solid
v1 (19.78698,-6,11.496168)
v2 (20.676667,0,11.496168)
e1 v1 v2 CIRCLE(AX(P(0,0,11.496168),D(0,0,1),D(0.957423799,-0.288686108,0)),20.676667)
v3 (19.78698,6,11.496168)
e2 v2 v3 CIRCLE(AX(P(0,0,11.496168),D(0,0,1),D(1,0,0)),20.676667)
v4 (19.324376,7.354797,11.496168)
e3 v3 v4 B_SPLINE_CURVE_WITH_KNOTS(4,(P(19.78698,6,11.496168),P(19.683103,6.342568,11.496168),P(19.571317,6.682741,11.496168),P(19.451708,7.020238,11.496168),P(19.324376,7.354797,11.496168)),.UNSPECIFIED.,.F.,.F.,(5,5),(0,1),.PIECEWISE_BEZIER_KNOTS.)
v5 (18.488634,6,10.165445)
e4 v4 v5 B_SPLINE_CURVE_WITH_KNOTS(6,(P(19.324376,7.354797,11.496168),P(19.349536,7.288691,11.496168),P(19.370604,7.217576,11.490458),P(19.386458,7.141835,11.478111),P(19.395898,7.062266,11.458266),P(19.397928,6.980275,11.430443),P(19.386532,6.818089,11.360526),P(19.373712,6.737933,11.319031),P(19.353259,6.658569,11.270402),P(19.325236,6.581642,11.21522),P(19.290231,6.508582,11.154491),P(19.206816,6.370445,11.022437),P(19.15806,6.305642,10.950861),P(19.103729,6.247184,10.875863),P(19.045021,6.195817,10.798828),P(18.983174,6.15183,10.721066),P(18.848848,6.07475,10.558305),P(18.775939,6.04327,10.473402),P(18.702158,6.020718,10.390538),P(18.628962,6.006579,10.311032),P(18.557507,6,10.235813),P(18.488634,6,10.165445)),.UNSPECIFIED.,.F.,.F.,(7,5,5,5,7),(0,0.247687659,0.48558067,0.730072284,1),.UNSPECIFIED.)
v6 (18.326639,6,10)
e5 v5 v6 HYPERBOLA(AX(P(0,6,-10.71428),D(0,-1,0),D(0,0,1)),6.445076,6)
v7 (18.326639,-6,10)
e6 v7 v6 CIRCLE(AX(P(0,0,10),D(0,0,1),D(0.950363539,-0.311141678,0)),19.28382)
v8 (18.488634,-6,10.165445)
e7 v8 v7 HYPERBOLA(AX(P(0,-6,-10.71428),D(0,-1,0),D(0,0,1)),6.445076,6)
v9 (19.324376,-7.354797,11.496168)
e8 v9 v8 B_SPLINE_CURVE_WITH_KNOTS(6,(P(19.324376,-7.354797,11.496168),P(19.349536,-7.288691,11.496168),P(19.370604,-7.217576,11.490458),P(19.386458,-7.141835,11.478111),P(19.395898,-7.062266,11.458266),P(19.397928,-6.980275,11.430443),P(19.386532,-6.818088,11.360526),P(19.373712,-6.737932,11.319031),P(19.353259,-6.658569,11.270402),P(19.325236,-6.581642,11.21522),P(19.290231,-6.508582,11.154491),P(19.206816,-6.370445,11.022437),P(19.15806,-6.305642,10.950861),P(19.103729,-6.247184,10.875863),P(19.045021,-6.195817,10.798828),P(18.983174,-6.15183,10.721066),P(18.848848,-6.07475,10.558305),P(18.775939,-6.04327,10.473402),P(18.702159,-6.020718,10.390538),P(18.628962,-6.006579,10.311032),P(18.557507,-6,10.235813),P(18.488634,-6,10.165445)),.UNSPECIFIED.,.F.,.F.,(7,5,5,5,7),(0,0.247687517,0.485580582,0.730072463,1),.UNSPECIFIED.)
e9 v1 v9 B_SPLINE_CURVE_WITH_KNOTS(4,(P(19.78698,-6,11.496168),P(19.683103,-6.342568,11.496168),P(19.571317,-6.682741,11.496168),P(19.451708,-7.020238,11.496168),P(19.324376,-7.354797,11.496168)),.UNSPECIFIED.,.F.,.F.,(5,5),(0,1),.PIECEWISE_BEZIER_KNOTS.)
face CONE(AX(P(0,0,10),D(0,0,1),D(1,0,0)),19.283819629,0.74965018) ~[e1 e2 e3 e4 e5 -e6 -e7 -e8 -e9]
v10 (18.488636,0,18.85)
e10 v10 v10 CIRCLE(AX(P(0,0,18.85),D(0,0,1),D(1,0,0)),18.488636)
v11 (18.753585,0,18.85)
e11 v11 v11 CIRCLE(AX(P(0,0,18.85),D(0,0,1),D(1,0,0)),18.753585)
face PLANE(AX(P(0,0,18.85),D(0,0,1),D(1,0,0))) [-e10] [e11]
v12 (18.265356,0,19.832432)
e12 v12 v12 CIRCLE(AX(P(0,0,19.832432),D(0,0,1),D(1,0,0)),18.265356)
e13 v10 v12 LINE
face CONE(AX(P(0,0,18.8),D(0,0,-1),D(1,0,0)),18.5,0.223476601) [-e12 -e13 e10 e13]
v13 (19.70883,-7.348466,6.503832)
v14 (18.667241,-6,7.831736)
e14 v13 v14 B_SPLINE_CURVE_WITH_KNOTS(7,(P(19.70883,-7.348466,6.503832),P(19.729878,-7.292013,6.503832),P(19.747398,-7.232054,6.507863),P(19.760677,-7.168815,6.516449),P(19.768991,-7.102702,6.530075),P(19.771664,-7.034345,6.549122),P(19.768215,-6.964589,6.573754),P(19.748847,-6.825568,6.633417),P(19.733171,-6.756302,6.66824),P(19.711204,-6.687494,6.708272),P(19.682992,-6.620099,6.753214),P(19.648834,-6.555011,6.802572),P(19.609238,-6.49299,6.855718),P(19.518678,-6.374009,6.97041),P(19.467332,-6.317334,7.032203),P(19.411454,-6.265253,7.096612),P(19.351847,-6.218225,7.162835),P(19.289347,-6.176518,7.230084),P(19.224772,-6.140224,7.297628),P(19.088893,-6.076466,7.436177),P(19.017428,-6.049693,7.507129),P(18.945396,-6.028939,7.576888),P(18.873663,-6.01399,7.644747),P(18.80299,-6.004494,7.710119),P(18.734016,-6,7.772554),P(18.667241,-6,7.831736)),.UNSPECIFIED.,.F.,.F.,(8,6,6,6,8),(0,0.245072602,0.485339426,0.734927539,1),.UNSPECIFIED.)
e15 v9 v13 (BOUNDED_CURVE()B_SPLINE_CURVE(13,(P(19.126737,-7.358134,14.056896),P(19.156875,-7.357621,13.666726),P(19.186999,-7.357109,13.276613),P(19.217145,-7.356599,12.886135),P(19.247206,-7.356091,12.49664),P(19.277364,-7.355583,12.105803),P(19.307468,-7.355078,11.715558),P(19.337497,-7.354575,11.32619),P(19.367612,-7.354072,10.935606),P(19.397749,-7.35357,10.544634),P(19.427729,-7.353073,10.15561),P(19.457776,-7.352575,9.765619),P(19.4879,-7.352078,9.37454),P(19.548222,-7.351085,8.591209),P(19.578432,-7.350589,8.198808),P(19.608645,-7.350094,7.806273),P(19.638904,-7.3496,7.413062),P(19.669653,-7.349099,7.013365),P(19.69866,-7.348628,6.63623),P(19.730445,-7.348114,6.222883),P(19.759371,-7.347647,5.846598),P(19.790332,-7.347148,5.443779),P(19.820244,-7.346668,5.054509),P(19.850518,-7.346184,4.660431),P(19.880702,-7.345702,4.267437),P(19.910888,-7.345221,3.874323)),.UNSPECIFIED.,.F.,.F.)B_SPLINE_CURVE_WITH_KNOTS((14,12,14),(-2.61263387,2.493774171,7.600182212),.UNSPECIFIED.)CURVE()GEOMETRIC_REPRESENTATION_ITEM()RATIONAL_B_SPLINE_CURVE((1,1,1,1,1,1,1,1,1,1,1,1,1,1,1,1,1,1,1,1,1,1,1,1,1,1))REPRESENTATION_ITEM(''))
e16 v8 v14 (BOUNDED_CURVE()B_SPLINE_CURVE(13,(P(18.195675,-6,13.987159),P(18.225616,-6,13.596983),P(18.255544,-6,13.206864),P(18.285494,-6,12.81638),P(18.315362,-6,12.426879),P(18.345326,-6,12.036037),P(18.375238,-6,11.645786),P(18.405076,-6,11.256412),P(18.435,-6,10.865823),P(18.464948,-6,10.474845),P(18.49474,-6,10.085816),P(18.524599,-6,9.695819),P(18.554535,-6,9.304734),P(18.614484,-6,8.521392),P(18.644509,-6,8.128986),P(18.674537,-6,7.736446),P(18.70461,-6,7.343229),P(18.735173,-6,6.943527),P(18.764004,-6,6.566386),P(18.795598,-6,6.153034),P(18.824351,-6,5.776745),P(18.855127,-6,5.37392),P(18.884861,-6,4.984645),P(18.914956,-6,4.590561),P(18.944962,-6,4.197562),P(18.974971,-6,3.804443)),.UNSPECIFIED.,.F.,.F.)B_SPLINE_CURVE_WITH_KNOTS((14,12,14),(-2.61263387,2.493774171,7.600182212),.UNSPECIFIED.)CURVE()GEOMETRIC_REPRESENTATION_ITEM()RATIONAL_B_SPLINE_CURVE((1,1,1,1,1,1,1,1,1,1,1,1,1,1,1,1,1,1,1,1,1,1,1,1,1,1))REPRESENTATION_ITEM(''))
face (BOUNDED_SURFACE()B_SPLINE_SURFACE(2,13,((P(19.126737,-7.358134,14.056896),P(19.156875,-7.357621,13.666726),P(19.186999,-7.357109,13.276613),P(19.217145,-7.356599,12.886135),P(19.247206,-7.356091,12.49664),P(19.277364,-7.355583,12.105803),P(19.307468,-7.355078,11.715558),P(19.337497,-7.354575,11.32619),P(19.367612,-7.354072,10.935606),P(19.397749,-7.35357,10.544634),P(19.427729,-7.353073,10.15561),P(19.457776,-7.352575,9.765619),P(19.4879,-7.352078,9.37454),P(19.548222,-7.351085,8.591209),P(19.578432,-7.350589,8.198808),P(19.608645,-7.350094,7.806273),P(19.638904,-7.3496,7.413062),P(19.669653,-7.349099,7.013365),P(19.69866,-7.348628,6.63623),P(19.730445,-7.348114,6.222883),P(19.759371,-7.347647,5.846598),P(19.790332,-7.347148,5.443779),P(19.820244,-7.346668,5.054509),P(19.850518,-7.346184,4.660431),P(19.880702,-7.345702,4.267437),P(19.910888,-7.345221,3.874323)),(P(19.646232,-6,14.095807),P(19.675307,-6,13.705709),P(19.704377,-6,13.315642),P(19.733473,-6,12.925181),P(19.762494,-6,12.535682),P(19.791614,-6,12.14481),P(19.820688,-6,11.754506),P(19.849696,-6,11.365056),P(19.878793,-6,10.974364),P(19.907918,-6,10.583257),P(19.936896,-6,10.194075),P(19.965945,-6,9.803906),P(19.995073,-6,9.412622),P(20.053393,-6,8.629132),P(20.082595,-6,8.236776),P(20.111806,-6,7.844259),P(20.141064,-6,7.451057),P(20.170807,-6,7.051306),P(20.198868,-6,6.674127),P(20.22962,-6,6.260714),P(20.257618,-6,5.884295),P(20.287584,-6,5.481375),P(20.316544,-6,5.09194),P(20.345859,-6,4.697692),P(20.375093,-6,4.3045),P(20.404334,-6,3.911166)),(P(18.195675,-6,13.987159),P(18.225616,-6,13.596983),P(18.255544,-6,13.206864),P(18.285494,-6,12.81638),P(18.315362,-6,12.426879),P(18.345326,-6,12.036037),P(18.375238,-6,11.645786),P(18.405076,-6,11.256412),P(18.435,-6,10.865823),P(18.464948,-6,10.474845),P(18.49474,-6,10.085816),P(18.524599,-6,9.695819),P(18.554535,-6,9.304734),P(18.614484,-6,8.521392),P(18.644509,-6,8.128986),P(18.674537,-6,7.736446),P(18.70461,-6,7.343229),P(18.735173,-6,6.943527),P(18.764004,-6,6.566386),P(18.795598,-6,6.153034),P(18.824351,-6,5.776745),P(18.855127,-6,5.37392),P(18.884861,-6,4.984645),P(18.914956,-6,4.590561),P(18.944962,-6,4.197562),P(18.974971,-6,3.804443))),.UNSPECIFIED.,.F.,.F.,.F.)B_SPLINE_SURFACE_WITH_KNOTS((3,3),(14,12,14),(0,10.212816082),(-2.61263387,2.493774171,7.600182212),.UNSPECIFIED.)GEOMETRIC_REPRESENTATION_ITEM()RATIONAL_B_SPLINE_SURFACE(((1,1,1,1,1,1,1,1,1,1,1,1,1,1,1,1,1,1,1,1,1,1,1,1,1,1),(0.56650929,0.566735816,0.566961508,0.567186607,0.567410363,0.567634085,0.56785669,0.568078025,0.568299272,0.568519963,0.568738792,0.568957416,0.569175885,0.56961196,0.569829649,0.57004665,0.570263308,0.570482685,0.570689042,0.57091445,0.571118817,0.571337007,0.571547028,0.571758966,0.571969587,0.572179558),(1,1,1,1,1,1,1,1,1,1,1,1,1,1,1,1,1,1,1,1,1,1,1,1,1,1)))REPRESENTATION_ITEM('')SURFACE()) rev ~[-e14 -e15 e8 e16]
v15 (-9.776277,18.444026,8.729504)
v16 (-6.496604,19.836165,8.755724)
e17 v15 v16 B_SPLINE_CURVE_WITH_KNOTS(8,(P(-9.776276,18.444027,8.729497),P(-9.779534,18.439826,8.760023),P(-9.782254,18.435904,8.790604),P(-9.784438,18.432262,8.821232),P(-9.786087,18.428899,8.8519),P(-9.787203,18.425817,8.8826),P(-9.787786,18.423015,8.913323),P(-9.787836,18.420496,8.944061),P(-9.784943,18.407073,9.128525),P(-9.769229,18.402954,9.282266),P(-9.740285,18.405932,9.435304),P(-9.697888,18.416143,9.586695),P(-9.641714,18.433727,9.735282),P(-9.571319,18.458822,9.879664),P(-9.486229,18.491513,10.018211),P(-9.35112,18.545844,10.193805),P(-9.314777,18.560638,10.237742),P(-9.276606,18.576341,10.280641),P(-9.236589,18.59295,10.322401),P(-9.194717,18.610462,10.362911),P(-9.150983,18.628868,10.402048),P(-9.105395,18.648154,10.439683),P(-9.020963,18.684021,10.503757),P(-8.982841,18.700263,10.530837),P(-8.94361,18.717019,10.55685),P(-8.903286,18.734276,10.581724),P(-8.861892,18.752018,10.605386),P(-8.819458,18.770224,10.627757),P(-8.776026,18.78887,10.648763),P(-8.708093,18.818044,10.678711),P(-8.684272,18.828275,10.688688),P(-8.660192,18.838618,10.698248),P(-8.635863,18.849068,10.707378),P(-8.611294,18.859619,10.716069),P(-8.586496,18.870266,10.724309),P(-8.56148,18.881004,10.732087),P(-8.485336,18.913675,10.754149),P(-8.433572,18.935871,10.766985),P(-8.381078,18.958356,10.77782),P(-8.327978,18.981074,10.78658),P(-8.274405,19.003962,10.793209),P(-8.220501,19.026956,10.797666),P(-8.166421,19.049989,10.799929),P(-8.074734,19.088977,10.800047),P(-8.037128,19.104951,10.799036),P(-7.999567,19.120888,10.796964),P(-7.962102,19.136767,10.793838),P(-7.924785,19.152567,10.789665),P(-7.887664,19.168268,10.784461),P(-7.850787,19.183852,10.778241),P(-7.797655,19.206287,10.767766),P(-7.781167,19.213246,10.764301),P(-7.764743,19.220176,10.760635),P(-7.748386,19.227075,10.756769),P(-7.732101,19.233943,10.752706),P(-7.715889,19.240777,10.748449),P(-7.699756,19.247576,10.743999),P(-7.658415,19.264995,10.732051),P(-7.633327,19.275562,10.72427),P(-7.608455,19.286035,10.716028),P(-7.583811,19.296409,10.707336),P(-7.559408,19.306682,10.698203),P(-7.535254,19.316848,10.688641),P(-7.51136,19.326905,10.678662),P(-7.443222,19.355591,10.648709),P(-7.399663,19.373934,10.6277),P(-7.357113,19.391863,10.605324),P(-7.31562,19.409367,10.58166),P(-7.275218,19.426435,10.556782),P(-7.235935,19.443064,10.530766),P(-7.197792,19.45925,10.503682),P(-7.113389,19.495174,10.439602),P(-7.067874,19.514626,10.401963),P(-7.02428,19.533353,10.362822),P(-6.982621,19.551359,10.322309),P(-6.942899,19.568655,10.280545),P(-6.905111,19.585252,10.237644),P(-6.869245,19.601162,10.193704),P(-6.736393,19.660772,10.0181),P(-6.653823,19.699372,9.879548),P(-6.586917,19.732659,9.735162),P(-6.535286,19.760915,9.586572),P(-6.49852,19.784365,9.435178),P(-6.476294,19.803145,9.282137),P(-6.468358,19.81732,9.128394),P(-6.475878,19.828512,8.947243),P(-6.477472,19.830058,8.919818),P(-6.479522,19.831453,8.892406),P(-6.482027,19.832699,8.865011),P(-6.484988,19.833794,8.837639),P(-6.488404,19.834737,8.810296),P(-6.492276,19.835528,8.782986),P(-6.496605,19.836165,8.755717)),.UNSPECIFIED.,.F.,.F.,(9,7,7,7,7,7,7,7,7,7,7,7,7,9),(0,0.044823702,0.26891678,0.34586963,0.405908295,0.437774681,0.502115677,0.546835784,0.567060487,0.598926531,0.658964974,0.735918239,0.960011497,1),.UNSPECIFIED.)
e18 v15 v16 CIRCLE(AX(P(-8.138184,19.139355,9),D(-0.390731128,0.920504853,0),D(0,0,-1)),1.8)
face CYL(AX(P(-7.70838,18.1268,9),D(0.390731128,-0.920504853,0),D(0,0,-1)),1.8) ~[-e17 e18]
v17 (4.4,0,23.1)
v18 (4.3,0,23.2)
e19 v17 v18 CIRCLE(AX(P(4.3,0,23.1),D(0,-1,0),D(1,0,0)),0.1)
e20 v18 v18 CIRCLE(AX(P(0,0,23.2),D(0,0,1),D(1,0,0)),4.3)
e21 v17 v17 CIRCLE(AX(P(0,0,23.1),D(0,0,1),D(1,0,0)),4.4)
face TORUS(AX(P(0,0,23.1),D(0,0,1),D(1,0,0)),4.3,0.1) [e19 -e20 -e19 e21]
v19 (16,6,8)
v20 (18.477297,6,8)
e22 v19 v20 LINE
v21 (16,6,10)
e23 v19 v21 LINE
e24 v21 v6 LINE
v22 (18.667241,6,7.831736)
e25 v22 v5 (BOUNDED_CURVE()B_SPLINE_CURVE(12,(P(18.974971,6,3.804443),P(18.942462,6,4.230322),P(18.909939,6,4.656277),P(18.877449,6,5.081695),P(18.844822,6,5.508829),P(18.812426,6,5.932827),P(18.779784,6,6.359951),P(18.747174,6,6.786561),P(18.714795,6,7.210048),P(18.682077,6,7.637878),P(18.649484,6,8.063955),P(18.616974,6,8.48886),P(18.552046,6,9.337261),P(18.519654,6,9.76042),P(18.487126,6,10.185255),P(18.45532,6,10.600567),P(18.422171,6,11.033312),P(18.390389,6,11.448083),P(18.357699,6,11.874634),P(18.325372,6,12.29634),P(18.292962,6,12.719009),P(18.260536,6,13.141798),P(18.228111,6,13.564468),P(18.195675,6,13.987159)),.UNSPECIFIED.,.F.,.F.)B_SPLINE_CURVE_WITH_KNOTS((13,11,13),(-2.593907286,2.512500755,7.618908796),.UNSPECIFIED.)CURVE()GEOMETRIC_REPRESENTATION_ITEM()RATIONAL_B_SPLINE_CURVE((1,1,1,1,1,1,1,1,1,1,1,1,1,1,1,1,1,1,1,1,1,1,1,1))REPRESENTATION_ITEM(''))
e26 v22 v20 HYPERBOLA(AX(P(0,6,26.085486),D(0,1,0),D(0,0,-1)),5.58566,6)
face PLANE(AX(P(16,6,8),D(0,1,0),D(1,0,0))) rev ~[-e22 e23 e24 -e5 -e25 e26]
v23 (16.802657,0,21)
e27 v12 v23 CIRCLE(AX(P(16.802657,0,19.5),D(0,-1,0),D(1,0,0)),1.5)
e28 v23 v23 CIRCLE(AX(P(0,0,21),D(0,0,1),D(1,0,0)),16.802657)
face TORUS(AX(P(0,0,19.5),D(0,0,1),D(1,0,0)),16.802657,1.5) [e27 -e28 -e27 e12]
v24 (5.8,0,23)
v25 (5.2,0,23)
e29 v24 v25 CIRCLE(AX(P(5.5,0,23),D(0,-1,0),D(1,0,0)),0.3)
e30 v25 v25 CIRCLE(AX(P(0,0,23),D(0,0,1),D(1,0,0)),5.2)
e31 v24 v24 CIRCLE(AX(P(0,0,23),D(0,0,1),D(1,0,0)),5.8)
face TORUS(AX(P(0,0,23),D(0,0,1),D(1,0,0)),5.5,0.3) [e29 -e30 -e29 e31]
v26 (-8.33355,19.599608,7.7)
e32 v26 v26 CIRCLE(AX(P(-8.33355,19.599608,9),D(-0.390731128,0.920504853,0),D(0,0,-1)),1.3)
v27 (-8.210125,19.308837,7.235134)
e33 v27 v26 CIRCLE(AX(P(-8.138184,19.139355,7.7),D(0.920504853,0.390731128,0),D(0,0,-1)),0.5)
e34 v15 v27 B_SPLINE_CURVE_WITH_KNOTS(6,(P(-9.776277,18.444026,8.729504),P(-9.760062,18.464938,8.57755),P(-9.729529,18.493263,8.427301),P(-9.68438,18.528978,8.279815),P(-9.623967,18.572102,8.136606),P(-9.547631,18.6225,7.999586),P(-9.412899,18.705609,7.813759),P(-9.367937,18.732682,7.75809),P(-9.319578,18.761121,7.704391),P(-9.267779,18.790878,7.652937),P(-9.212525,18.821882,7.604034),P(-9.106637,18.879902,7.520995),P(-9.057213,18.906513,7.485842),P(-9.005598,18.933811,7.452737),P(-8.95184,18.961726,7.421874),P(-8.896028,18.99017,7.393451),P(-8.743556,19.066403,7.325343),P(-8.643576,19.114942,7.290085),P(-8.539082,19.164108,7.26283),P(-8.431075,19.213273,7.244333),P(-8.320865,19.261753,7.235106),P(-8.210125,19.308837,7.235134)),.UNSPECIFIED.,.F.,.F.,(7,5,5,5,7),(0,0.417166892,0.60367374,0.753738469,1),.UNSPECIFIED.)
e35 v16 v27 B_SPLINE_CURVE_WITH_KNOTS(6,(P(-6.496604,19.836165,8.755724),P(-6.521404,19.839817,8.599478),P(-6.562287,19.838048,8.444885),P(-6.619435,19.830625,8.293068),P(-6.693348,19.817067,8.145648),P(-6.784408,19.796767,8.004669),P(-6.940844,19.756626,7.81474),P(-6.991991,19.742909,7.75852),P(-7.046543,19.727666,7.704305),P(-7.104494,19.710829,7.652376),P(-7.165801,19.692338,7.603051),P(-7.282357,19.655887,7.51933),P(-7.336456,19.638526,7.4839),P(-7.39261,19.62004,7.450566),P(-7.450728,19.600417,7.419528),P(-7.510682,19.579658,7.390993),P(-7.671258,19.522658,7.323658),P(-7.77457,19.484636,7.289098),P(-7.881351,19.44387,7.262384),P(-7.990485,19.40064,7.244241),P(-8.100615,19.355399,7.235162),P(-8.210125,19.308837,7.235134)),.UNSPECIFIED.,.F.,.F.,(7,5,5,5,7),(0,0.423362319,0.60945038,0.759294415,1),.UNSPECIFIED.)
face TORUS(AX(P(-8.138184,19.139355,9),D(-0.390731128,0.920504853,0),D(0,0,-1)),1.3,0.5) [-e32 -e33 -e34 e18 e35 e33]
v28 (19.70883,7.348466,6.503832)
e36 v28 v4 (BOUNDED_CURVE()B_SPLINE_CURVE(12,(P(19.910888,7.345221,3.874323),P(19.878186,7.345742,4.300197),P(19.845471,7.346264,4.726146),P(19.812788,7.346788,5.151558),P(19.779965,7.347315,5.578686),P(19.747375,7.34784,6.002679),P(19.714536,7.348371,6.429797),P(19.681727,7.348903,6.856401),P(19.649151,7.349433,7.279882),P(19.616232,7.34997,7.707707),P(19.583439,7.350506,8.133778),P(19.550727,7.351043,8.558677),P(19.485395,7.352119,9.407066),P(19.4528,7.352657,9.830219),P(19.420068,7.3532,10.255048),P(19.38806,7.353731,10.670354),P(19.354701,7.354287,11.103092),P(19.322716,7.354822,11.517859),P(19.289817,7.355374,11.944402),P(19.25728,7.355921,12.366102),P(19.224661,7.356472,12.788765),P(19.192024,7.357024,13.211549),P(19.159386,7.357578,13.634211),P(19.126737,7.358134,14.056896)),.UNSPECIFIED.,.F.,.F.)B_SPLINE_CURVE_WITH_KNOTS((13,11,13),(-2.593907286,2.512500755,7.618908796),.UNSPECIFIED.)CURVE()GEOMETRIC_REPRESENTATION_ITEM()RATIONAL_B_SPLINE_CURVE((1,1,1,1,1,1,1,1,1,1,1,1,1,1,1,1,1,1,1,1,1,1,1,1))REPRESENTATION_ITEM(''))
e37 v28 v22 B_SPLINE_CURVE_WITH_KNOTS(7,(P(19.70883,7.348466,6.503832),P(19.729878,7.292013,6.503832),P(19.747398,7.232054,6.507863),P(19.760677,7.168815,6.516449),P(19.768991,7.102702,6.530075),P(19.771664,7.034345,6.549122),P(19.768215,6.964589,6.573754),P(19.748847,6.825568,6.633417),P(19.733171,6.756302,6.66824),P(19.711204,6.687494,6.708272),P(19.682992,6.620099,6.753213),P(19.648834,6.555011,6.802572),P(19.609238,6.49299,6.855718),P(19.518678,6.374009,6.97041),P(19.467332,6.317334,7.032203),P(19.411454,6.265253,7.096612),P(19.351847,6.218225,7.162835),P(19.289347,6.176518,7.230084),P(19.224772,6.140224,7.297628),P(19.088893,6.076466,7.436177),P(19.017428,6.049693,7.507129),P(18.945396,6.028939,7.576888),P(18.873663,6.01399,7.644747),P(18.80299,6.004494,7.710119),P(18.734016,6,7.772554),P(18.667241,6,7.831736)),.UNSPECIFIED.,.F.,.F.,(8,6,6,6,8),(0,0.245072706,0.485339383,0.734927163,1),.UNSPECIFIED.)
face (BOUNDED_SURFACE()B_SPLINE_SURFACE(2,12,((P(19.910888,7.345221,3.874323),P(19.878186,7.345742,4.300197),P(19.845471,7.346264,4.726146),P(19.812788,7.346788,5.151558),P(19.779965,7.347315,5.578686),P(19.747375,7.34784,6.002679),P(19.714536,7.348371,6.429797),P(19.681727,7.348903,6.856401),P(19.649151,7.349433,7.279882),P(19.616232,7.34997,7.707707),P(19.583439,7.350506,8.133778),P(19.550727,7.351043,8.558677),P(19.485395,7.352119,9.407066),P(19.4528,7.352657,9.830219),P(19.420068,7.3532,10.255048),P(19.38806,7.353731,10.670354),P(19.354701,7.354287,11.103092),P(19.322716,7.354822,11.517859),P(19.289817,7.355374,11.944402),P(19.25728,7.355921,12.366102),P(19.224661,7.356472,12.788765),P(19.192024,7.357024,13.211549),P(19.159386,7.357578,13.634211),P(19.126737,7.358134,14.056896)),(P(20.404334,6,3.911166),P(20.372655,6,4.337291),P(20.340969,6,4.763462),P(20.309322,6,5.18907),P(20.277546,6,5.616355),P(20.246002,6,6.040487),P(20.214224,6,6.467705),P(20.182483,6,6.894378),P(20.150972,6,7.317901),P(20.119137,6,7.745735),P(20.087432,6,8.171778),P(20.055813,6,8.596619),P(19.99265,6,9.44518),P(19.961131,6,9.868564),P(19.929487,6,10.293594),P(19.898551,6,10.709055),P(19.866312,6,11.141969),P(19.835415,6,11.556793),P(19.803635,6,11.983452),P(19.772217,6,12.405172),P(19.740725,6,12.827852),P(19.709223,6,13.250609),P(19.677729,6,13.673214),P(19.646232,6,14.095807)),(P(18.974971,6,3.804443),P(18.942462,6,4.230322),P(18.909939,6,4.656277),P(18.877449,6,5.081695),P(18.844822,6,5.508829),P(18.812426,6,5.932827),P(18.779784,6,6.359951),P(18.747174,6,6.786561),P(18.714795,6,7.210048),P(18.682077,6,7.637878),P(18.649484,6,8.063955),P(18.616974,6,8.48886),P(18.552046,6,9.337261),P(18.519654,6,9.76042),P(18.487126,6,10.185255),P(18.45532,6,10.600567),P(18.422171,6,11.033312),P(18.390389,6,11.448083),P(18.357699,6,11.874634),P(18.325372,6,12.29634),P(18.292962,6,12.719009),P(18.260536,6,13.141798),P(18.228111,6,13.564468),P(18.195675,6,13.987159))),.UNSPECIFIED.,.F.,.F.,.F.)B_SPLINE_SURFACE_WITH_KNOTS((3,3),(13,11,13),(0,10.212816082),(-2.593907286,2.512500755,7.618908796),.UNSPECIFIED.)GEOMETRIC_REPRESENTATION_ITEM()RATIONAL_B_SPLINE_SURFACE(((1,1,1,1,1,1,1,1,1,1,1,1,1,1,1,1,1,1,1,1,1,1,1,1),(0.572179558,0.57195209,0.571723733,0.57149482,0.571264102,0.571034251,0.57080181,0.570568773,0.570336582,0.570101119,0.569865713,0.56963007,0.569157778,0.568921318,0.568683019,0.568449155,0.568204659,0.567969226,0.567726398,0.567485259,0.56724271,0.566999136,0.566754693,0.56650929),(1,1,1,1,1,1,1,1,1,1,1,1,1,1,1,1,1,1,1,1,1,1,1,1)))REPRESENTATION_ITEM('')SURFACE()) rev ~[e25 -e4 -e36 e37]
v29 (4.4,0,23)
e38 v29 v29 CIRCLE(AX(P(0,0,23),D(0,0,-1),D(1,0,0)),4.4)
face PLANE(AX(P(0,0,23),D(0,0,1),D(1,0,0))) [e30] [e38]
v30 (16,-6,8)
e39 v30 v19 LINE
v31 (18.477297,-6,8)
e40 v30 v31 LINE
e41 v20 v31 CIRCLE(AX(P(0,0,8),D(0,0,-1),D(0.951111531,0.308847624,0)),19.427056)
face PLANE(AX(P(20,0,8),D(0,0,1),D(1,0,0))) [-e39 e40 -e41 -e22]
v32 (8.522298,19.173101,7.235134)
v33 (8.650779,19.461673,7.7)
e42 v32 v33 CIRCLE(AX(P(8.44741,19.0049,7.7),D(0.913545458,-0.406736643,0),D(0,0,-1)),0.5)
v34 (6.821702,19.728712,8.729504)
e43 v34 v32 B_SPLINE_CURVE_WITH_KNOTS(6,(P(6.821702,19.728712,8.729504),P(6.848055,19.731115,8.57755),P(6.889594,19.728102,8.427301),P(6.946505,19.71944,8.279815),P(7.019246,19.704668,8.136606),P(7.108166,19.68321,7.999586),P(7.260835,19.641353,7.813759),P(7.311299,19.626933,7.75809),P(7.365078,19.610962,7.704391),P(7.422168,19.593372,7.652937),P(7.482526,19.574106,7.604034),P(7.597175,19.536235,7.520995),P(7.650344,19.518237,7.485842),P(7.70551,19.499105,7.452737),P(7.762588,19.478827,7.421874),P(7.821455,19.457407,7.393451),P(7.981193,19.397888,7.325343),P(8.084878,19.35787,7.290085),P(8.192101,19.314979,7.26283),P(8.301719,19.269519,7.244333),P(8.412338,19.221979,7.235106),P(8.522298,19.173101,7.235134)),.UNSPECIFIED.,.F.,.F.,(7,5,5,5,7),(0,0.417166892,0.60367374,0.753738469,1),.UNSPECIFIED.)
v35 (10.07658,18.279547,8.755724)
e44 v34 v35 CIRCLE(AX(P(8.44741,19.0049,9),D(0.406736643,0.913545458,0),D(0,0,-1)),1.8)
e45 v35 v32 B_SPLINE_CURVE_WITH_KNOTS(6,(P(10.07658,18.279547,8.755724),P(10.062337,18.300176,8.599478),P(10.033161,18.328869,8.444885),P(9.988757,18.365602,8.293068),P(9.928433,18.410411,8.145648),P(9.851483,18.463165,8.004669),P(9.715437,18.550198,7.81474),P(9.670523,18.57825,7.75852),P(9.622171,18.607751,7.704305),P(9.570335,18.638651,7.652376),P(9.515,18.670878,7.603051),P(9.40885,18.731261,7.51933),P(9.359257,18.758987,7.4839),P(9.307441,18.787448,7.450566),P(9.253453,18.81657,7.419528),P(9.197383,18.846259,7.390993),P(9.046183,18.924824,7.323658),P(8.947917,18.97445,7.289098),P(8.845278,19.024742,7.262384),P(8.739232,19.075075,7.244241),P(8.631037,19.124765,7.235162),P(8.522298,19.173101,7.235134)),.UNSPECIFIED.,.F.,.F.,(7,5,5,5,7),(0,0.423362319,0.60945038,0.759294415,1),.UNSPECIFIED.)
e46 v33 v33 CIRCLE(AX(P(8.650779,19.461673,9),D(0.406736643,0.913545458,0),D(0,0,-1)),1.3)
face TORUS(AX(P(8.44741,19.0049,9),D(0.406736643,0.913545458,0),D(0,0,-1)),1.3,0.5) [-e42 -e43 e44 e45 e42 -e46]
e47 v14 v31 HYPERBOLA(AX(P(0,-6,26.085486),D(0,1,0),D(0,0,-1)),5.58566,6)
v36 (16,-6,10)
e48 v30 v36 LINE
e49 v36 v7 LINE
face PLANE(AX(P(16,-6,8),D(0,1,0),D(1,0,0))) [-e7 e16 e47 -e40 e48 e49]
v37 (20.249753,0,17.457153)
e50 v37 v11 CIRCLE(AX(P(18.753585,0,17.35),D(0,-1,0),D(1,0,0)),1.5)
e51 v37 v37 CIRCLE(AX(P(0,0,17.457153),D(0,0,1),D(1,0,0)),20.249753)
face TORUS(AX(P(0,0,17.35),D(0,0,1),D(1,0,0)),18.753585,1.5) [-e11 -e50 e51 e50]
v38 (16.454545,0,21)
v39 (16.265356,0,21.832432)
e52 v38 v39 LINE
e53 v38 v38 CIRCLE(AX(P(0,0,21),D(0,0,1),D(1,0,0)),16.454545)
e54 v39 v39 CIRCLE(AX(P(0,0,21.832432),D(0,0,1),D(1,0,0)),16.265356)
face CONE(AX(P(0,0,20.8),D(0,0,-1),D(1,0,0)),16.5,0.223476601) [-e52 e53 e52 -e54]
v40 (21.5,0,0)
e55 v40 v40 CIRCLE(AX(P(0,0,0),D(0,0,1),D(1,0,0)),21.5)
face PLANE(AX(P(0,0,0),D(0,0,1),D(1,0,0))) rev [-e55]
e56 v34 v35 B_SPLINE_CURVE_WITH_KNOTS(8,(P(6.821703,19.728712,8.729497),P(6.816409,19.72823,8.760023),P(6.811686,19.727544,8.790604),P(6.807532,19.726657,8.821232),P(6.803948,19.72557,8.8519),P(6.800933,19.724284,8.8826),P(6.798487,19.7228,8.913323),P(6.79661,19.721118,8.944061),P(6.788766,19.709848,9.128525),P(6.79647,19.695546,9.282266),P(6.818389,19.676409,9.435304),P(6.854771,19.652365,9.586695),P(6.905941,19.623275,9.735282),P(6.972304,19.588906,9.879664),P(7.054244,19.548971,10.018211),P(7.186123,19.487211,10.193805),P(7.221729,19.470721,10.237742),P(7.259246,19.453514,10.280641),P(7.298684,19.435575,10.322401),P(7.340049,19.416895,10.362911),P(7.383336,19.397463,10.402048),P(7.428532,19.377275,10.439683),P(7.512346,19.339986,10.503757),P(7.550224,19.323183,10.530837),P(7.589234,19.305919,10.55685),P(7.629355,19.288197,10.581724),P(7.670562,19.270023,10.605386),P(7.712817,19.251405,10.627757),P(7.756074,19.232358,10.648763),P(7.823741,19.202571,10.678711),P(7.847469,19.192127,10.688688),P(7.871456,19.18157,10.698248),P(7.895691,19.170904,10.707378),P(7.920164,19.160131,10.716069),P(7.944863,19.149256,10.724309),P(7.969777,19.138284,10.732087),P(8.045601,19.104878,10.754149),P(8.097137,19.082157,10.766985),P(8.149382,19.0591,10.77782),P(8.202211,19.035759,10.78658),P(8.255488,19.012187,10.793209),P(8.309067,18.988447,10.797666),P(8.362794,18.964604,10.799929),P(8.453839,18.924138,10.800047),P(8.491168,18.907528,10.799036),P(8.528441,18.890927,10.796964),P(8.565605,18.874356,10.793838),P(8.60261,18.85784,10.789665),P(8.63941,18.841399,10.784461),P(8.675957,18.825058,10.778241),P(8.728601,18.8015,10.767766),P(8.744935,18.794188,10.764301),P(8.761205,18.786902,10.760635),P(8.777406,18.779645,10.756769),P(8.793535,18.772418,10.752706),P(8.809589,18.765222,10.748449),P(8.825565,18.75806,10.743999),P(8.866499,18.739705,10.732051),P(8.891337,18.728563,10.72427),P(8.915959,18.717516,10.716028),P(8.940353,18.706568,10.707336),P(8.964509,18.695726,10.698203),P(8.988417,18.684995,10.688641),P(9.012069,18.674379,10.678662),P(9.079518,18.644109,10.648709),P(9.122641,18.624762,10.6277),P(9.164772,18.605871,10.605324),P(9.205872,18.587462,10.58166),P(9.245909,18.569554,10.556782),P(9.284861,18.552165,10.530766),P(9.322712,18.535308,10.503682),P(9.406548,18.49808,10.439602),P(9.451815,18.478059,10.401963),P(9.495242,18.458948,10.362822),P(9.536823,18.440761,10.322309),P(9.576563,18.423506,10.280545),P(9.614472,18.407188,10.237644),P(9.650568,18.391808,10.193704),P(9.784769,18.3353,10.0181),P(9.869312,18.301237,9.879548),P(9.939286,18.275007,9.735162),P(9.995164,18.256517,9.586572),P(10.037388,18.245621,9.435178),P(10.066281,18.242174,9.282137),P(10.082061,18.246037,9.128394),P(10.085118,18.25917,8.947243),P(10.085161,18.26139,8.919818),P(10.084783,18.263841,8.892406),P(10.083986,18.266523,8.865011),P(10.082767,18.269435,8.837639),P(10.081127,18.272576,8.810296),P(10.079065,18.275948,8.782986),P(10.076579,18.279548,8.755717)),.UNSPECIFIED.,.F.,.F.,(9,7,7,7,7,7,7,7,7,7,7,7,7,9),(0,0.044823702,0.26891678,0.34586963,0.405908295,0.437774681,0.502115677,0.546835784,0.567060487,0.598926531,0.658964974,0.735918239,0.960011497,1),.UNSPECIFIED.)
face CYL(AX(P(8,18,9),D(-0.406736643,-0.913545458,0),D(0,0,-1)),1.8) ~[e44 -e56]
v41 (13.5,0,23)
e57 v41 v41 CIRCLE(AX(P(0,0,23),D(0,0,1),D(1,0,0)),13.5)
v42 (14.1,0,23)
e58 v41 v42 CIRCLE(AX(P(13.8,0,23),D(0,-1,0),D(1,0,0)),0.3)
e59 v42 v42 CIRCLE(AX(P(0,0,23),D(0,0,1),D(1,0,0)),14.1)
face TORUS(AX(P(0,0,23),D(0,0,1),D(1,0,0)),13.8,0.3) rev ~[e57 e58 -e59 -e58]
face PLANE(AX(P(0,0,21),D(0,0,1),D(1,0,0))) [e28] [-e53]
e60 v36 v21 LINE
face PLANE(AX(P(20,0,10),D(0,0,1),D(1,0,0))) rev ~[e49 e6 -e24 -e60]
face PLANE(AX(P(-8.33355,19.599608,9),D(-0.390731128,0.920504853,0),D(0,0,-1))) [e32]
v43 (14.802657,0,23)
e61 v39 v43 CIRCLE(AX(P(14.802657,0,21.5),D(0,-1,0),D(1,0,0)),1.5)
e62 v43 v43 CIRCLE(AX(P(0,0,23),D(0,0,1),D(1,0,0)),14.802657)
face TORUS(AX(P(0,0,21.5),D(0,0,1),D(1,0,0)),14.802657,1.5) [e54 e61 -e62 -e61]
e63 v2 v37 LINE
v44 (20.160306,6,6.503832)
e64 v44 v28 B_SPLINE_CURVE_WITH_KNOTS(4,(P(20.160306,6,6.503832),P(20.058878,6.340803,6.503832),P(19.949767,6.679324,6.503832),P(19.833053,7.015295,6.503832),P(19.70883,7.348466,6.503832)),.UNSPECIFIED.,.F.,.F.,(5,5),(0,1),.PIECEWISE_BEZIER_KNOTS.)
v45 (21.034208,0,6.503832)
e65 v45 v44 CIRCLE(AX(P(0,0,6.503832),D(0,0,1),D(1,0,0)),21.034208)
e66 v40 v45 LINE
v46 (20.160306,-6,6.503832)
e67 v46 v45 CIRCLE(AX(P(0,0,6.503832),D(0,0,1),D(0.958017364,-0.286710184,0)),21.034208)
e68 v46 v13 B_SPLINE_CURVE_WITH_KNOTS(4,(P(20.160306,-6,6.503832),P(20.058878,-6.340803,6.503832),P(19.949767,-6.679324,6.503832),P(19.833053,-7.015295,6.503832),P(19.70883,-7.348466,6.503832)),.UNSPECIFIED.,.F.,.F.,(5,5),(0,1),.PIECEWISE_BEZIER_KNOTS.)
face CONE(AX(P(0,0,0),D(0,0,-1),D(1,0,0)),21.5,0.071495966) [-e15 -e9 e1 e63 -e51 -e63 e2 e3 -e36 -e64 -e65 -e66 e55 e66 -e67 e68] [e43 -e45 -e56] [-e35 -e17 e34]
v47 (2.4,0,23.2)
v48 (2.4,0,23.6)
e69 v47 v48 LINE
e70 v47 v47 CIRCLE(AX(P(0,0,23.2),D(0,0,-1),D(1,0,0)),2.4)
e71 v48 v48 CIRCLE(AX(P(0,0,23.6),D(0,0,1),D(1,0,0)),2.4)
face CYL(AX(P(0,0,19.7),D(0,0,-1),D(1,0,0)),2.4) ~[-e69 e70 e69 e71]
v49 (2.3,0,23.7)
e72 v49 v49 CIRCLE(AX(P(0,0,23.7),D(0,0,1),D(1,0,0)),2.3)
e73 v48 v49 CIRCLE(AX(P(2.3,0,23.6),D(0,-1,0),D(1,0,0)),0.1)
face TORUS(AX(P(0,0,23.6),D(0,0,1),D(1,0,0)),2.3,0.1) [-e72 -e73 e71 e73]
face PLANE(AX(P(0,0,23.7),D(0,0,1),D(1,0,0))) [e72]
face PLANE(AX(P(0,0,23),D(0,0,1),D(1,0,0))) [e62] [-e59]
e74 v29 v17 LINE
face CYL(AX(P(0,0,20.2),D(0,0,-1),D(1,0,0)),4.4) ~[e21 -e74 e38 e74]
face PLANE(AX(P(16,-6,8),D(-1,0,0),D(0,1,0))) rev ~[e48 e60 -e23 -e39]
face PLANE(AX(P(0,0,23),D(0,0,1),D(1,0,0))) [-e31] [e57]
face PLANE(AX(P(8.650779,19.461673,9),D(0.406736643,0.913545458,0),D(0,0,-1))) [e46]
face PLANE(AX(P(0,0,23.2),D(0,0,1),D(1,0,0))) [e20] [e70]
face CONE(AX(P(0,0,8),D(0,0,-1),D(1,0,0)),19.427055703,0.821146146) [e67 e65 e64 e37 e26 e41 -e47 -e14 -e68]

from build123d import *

# Parameters (mm, degrees)
CYLINDER004_R               = 8
CYLINDER004_DEPTH           = 10
CYLINDER003_R               = 2.4
CYLINDER003_DEPTH           = 4
FILLET008_R                 = 0.1
CYLINDER_R                  = 4.4
CYLINDER_DEPTH              = 3
FILLET003_R                 = 0.1
TORUS_R                     = 0.3
FILLET002_R                 = 1.5
TORUS001_R                  = 0.3
CYLINDER001_R               = 1.8
CYLINDER001_DEPTH           = 1.6
CYLINDER001_PITCH_ANGLE     = 90
CYLINDER001_PLACEMENT_ANGLE = 66
FILLET006_R                 = 0.5
CYLINDER002_R               = 1.8
CYLINDER002_DEPTH           = 1.6
CYLINDER002_PITCH_ANGLE     = 90
CYLINDER002_PLACEMENT_ANGLE = 66
FILLET007_R                 = 0.5
FILLET007_PLACEMENT_ANGLE   = 47
BOX_W                       = 8
BOX_H                       = 12
BOX_DEPTH                   = 2
FILLET_R                    = 1.5
CHAMFER_SIZE                = 1.5
FILLET004_R                 = 1
FILLET005_R                 = 1
FILLET001_R                 = 1.5


with BuildPart() as cilindro004:
    # Cylinder004 → Cylinder004 (new body)
    with BuildSketch(Plane.XY.offset(12.5)):
        Circle(CYLINDER004_R)
    extrude(amount=CYLINDER004_DEPTH)


with BuildPart() as fillet008:
    # Cylinder003 → Cylinder003 (new body)
    with BuildSketch(Plane.XY.offset(20.2)):
        Circle(CYLINDER003_R)
    extrude(amount=CYLINDER003_DEPTH)

    # Fillet008
    fillet008_edges = [fillet008.edges().sort_by_distance(p)[0] for p in [
        (-2.4, 0, 24.2),
    ]]
    fillet(fillet008_edges, radius=FILLET008_R)


with BuildPart() as fillet008_1:
    # Fillet008 placement: moved
    add(fillet008.part.moved(Location((0, 0, -0.5))))


with BuildPart() as fillet003:
    # Cylinder → Cylinder (new body)
    with BuildSketch(Plane.XY.offset(20.2)):
        Circle(CYLINDER_R)
    extrude(amount=CYLINDER_DEPTH)

    # Fillet003
    fillet003_edges = [fillet003.edges().sort_by_distance(p)[0] for p in [
        (-4.4, 0, 23.2),
    ]]
    fillet(fillet003_edges, radius=FILLET003_R)


with BuildPart() as toro:
    # Torus → Torus (revolve)
    with BuildSketch(Plane(origin=(0, 0, 23), x_dir=(1, 0, 0), z_dir=(0, -1, 0))):
        with Locations((13.8, 0)):
            Circle(TORUS_R)
    revolve(axis=Axis((0, 0, 23), (0, 0, 1)))


with BuildPart() as cut:
    # Cone002 → Cone002 (revolve)
    with BuildSketch(Plane(origin=(0, 0, 20.8), x_dir=(1, 0, 0), z_dir=(0, -1, 0))):
        Polygon((0, 0), (16.5, 0), (16, 2.2), (0, 2.2), align=None)
    revolve(axis=Axis((0, 0, 20.8), (0, 0, 1)))

    # Fillet002
    fillet002_edges = [cut.edges().sort_by_distance(p)[0] for p in [
        (-16, 0, 23),
    ]]
    fillet(fillet002_edges, radius=FILLET002_R)

    # Cut: cut Toro
    add(toro.part, mode=Mode.SUBTRACT)


with BuildPart() as fusion:
    # Torus001 → Torus001 (revolve)
    with BuildSketch(Plane(origin=(0, 0, 23), x_dir=(1, 0, 0), z_dir=(0, -1, 0))):
        with Locations((5.5, 0)):
            Circle(TORUS001_R)
    revolve(axis=Axis((0, 0, 23), (0, 0, 1)))

    # Fusion: union Cut
    add(cut.part)


with BuildPart() as fillet006:
    # Cylinder001 → Cylinder001 (new body)
    with BuildSketch(Plane.XY):
        Circle(CYLINDER001_R)
    extrude(amount=CYLINDER001_DEPTH)


with BuildPart() as fillet006_1:
    # Cylinder001 pitch: moved
    add(fillet006.part.rotate(Axis((0, 0, 0), (0, 1, 0)), CYLINDER001_PITCH_ANGLE))


with BuildPart() as fillet006_2:
    # Cylinder001 placement: moved
    add(fillet006_1.part.moved(Location((8, 18, 9))).rotate(Axis((8, 18, 9), (0, 0, 1)), CYLINDER001_PLACEMENT_ANGLE))

    # Fillet006
    fillet006_edges = [fillet006_2.edges().sort_by_distance(p)[0] for p in [
        (8.650779, 19.461673, 10.8),
    ]]
    fillet(fillet006_edges, radius=FILLET006_R)


with BuildPart() as fillet007:
    # Cylinder002 → Cylinder002 (new body)
    with BuildSketch(Plane.XY):
        Circle(CYLINDER002_R)
    extrude(amount=CYLINDER002_DEPTH)


with BuildPart() as fillet007_1:
    # Cylinder002 pitch: moved
    add(fillet007.part.rotate(Axis((0, 0, 0), (0, 1, 0)), CYLINDER002_PITCH_ANGLE))


with BuildPart() as fillet007_2:
    # Cylinder002 placement: moved
    add(fillet007_1.part.moved(Location((8, 18, 9))).rotate(Axis((8, 18, 9), (0, 0, 1)), CYLINDER002_PLACEMENT_ANGLE))

    # Fillet007
    fillet007_edges = [fillet007_2.edges().sort_by_distance(p)[0] for p in [
        (8.650779, 19.461673, 10.8),
    ]]
    fillet(fillet007_edges, radius=FILLET007_R)


with BuildPart() as fillet007_3:
    # Fillet007 placement: moved
    add(fillet007_2.part.rotate(Axis((0, 0, 0), (0, 0, 1)), FILLET007_PLACEMENT_ANGLE))


with BuildPart() as cubo:
    # Box → Box (new body)
    with BuildSketch(Plane(origin=(16, -6, 8), x_dir=(1, 0, 0), z_dir=(0, 0, 1))):
        with Locations((4, 6)):
            Rectangle(BOX_W, BOX_H)
    extrude(amount=BOX_DEPTH)


with BuildPart() as fusion001:
    # Cone → Cone (revolve)
    with BuildSketch(Plane.XZ):
        Polygon((0, 0), (21.5, 0), (20.15, 18.85), (0, 18.85), align=None)
    revolve(axis=Axis((0, 0, 0), (0, 0, 1)))

    # Fillet
    fillet_edges = [fusion001.edges().sort_by_distance(p)[0] for p in [
        (-20.15, 0, 18.85),
    ]]
    fillet(fillet_edges, radius=FILLET_R)

    # Cut001: cut Cubo
    add(cubo.part, mode=Mode.SUBTRACT)

    # Chamfer
    chamfer_edges = [fusion001.edges().sort_by_distance(p)[0] for p in [
        (20.706248, 3.031992, 8),
        (20.561406, 3.032451, 10),
        (20.561406, -3.032451, 10),
        (20.706248, -3.031992, 8),
    ]]
    chamfer(chamfer_edges, length=CHAMFER_SIZE)

    # Fillet004
    fillet004_edges = [fusion001.edges().sort_by_distance(p)[0] for p in [
        (20.1044, -6, 7.251917),
        (19.973715, -6, 9.000001),
        (19.842958, -6, 10.748084),
    ]]
    fillet(fillet004_edges, radius=FILLET004_R)

    # Fillet005
    fillet005_edges = [fusion001.edges().sort_by_distance(p)[0] for p in [
        (19.842958, 6, 10.748084),
        (19.973715, 6, 9.000001),
        (20.1044, 6, 7.251917),
    ]]
    fillet(fillet005_edges, radius=FILLET005_R)

    # Fusion001: union Fillet006, Fillet007
    add(fillet006_2.part)
    add(fillet007_3.part)


with BuildPart() as camara:
    # Cone001 → Cone001 (revolve)
    with BuildSketch(Plane(origin=(0, 0, 18.8), x_dir=(1, 0, 0), z_dir=(0, -1, 0))):
        Polygon((0, 0), (18.5, 0), (18, 2.2), (0, 2.2), align=None)
    revolve(axis=Axis((0, 0, 18.8), (0, 0, 1)))

    # Fillet001
    fillet001_edges = [camara.edges().sort_by_distance(p)[0] for p in [
        (-18, 0, 21),
    ]]
    fillet(fillet001_edges, radius=FILLET001_R)

    # Fusion002: union Fusion001
    add(fusion001.part)

    # Fusion003: union Fusion
    add(fusion.part)

    # Fusion004: union Fillet003
    add(fillet003.part)

    # Fusion005: union Fillet008
    add(fillet008_1.part)

    # Fusion006: union Cilindro004
    add(cilindro004.part)


solid = camara.part
